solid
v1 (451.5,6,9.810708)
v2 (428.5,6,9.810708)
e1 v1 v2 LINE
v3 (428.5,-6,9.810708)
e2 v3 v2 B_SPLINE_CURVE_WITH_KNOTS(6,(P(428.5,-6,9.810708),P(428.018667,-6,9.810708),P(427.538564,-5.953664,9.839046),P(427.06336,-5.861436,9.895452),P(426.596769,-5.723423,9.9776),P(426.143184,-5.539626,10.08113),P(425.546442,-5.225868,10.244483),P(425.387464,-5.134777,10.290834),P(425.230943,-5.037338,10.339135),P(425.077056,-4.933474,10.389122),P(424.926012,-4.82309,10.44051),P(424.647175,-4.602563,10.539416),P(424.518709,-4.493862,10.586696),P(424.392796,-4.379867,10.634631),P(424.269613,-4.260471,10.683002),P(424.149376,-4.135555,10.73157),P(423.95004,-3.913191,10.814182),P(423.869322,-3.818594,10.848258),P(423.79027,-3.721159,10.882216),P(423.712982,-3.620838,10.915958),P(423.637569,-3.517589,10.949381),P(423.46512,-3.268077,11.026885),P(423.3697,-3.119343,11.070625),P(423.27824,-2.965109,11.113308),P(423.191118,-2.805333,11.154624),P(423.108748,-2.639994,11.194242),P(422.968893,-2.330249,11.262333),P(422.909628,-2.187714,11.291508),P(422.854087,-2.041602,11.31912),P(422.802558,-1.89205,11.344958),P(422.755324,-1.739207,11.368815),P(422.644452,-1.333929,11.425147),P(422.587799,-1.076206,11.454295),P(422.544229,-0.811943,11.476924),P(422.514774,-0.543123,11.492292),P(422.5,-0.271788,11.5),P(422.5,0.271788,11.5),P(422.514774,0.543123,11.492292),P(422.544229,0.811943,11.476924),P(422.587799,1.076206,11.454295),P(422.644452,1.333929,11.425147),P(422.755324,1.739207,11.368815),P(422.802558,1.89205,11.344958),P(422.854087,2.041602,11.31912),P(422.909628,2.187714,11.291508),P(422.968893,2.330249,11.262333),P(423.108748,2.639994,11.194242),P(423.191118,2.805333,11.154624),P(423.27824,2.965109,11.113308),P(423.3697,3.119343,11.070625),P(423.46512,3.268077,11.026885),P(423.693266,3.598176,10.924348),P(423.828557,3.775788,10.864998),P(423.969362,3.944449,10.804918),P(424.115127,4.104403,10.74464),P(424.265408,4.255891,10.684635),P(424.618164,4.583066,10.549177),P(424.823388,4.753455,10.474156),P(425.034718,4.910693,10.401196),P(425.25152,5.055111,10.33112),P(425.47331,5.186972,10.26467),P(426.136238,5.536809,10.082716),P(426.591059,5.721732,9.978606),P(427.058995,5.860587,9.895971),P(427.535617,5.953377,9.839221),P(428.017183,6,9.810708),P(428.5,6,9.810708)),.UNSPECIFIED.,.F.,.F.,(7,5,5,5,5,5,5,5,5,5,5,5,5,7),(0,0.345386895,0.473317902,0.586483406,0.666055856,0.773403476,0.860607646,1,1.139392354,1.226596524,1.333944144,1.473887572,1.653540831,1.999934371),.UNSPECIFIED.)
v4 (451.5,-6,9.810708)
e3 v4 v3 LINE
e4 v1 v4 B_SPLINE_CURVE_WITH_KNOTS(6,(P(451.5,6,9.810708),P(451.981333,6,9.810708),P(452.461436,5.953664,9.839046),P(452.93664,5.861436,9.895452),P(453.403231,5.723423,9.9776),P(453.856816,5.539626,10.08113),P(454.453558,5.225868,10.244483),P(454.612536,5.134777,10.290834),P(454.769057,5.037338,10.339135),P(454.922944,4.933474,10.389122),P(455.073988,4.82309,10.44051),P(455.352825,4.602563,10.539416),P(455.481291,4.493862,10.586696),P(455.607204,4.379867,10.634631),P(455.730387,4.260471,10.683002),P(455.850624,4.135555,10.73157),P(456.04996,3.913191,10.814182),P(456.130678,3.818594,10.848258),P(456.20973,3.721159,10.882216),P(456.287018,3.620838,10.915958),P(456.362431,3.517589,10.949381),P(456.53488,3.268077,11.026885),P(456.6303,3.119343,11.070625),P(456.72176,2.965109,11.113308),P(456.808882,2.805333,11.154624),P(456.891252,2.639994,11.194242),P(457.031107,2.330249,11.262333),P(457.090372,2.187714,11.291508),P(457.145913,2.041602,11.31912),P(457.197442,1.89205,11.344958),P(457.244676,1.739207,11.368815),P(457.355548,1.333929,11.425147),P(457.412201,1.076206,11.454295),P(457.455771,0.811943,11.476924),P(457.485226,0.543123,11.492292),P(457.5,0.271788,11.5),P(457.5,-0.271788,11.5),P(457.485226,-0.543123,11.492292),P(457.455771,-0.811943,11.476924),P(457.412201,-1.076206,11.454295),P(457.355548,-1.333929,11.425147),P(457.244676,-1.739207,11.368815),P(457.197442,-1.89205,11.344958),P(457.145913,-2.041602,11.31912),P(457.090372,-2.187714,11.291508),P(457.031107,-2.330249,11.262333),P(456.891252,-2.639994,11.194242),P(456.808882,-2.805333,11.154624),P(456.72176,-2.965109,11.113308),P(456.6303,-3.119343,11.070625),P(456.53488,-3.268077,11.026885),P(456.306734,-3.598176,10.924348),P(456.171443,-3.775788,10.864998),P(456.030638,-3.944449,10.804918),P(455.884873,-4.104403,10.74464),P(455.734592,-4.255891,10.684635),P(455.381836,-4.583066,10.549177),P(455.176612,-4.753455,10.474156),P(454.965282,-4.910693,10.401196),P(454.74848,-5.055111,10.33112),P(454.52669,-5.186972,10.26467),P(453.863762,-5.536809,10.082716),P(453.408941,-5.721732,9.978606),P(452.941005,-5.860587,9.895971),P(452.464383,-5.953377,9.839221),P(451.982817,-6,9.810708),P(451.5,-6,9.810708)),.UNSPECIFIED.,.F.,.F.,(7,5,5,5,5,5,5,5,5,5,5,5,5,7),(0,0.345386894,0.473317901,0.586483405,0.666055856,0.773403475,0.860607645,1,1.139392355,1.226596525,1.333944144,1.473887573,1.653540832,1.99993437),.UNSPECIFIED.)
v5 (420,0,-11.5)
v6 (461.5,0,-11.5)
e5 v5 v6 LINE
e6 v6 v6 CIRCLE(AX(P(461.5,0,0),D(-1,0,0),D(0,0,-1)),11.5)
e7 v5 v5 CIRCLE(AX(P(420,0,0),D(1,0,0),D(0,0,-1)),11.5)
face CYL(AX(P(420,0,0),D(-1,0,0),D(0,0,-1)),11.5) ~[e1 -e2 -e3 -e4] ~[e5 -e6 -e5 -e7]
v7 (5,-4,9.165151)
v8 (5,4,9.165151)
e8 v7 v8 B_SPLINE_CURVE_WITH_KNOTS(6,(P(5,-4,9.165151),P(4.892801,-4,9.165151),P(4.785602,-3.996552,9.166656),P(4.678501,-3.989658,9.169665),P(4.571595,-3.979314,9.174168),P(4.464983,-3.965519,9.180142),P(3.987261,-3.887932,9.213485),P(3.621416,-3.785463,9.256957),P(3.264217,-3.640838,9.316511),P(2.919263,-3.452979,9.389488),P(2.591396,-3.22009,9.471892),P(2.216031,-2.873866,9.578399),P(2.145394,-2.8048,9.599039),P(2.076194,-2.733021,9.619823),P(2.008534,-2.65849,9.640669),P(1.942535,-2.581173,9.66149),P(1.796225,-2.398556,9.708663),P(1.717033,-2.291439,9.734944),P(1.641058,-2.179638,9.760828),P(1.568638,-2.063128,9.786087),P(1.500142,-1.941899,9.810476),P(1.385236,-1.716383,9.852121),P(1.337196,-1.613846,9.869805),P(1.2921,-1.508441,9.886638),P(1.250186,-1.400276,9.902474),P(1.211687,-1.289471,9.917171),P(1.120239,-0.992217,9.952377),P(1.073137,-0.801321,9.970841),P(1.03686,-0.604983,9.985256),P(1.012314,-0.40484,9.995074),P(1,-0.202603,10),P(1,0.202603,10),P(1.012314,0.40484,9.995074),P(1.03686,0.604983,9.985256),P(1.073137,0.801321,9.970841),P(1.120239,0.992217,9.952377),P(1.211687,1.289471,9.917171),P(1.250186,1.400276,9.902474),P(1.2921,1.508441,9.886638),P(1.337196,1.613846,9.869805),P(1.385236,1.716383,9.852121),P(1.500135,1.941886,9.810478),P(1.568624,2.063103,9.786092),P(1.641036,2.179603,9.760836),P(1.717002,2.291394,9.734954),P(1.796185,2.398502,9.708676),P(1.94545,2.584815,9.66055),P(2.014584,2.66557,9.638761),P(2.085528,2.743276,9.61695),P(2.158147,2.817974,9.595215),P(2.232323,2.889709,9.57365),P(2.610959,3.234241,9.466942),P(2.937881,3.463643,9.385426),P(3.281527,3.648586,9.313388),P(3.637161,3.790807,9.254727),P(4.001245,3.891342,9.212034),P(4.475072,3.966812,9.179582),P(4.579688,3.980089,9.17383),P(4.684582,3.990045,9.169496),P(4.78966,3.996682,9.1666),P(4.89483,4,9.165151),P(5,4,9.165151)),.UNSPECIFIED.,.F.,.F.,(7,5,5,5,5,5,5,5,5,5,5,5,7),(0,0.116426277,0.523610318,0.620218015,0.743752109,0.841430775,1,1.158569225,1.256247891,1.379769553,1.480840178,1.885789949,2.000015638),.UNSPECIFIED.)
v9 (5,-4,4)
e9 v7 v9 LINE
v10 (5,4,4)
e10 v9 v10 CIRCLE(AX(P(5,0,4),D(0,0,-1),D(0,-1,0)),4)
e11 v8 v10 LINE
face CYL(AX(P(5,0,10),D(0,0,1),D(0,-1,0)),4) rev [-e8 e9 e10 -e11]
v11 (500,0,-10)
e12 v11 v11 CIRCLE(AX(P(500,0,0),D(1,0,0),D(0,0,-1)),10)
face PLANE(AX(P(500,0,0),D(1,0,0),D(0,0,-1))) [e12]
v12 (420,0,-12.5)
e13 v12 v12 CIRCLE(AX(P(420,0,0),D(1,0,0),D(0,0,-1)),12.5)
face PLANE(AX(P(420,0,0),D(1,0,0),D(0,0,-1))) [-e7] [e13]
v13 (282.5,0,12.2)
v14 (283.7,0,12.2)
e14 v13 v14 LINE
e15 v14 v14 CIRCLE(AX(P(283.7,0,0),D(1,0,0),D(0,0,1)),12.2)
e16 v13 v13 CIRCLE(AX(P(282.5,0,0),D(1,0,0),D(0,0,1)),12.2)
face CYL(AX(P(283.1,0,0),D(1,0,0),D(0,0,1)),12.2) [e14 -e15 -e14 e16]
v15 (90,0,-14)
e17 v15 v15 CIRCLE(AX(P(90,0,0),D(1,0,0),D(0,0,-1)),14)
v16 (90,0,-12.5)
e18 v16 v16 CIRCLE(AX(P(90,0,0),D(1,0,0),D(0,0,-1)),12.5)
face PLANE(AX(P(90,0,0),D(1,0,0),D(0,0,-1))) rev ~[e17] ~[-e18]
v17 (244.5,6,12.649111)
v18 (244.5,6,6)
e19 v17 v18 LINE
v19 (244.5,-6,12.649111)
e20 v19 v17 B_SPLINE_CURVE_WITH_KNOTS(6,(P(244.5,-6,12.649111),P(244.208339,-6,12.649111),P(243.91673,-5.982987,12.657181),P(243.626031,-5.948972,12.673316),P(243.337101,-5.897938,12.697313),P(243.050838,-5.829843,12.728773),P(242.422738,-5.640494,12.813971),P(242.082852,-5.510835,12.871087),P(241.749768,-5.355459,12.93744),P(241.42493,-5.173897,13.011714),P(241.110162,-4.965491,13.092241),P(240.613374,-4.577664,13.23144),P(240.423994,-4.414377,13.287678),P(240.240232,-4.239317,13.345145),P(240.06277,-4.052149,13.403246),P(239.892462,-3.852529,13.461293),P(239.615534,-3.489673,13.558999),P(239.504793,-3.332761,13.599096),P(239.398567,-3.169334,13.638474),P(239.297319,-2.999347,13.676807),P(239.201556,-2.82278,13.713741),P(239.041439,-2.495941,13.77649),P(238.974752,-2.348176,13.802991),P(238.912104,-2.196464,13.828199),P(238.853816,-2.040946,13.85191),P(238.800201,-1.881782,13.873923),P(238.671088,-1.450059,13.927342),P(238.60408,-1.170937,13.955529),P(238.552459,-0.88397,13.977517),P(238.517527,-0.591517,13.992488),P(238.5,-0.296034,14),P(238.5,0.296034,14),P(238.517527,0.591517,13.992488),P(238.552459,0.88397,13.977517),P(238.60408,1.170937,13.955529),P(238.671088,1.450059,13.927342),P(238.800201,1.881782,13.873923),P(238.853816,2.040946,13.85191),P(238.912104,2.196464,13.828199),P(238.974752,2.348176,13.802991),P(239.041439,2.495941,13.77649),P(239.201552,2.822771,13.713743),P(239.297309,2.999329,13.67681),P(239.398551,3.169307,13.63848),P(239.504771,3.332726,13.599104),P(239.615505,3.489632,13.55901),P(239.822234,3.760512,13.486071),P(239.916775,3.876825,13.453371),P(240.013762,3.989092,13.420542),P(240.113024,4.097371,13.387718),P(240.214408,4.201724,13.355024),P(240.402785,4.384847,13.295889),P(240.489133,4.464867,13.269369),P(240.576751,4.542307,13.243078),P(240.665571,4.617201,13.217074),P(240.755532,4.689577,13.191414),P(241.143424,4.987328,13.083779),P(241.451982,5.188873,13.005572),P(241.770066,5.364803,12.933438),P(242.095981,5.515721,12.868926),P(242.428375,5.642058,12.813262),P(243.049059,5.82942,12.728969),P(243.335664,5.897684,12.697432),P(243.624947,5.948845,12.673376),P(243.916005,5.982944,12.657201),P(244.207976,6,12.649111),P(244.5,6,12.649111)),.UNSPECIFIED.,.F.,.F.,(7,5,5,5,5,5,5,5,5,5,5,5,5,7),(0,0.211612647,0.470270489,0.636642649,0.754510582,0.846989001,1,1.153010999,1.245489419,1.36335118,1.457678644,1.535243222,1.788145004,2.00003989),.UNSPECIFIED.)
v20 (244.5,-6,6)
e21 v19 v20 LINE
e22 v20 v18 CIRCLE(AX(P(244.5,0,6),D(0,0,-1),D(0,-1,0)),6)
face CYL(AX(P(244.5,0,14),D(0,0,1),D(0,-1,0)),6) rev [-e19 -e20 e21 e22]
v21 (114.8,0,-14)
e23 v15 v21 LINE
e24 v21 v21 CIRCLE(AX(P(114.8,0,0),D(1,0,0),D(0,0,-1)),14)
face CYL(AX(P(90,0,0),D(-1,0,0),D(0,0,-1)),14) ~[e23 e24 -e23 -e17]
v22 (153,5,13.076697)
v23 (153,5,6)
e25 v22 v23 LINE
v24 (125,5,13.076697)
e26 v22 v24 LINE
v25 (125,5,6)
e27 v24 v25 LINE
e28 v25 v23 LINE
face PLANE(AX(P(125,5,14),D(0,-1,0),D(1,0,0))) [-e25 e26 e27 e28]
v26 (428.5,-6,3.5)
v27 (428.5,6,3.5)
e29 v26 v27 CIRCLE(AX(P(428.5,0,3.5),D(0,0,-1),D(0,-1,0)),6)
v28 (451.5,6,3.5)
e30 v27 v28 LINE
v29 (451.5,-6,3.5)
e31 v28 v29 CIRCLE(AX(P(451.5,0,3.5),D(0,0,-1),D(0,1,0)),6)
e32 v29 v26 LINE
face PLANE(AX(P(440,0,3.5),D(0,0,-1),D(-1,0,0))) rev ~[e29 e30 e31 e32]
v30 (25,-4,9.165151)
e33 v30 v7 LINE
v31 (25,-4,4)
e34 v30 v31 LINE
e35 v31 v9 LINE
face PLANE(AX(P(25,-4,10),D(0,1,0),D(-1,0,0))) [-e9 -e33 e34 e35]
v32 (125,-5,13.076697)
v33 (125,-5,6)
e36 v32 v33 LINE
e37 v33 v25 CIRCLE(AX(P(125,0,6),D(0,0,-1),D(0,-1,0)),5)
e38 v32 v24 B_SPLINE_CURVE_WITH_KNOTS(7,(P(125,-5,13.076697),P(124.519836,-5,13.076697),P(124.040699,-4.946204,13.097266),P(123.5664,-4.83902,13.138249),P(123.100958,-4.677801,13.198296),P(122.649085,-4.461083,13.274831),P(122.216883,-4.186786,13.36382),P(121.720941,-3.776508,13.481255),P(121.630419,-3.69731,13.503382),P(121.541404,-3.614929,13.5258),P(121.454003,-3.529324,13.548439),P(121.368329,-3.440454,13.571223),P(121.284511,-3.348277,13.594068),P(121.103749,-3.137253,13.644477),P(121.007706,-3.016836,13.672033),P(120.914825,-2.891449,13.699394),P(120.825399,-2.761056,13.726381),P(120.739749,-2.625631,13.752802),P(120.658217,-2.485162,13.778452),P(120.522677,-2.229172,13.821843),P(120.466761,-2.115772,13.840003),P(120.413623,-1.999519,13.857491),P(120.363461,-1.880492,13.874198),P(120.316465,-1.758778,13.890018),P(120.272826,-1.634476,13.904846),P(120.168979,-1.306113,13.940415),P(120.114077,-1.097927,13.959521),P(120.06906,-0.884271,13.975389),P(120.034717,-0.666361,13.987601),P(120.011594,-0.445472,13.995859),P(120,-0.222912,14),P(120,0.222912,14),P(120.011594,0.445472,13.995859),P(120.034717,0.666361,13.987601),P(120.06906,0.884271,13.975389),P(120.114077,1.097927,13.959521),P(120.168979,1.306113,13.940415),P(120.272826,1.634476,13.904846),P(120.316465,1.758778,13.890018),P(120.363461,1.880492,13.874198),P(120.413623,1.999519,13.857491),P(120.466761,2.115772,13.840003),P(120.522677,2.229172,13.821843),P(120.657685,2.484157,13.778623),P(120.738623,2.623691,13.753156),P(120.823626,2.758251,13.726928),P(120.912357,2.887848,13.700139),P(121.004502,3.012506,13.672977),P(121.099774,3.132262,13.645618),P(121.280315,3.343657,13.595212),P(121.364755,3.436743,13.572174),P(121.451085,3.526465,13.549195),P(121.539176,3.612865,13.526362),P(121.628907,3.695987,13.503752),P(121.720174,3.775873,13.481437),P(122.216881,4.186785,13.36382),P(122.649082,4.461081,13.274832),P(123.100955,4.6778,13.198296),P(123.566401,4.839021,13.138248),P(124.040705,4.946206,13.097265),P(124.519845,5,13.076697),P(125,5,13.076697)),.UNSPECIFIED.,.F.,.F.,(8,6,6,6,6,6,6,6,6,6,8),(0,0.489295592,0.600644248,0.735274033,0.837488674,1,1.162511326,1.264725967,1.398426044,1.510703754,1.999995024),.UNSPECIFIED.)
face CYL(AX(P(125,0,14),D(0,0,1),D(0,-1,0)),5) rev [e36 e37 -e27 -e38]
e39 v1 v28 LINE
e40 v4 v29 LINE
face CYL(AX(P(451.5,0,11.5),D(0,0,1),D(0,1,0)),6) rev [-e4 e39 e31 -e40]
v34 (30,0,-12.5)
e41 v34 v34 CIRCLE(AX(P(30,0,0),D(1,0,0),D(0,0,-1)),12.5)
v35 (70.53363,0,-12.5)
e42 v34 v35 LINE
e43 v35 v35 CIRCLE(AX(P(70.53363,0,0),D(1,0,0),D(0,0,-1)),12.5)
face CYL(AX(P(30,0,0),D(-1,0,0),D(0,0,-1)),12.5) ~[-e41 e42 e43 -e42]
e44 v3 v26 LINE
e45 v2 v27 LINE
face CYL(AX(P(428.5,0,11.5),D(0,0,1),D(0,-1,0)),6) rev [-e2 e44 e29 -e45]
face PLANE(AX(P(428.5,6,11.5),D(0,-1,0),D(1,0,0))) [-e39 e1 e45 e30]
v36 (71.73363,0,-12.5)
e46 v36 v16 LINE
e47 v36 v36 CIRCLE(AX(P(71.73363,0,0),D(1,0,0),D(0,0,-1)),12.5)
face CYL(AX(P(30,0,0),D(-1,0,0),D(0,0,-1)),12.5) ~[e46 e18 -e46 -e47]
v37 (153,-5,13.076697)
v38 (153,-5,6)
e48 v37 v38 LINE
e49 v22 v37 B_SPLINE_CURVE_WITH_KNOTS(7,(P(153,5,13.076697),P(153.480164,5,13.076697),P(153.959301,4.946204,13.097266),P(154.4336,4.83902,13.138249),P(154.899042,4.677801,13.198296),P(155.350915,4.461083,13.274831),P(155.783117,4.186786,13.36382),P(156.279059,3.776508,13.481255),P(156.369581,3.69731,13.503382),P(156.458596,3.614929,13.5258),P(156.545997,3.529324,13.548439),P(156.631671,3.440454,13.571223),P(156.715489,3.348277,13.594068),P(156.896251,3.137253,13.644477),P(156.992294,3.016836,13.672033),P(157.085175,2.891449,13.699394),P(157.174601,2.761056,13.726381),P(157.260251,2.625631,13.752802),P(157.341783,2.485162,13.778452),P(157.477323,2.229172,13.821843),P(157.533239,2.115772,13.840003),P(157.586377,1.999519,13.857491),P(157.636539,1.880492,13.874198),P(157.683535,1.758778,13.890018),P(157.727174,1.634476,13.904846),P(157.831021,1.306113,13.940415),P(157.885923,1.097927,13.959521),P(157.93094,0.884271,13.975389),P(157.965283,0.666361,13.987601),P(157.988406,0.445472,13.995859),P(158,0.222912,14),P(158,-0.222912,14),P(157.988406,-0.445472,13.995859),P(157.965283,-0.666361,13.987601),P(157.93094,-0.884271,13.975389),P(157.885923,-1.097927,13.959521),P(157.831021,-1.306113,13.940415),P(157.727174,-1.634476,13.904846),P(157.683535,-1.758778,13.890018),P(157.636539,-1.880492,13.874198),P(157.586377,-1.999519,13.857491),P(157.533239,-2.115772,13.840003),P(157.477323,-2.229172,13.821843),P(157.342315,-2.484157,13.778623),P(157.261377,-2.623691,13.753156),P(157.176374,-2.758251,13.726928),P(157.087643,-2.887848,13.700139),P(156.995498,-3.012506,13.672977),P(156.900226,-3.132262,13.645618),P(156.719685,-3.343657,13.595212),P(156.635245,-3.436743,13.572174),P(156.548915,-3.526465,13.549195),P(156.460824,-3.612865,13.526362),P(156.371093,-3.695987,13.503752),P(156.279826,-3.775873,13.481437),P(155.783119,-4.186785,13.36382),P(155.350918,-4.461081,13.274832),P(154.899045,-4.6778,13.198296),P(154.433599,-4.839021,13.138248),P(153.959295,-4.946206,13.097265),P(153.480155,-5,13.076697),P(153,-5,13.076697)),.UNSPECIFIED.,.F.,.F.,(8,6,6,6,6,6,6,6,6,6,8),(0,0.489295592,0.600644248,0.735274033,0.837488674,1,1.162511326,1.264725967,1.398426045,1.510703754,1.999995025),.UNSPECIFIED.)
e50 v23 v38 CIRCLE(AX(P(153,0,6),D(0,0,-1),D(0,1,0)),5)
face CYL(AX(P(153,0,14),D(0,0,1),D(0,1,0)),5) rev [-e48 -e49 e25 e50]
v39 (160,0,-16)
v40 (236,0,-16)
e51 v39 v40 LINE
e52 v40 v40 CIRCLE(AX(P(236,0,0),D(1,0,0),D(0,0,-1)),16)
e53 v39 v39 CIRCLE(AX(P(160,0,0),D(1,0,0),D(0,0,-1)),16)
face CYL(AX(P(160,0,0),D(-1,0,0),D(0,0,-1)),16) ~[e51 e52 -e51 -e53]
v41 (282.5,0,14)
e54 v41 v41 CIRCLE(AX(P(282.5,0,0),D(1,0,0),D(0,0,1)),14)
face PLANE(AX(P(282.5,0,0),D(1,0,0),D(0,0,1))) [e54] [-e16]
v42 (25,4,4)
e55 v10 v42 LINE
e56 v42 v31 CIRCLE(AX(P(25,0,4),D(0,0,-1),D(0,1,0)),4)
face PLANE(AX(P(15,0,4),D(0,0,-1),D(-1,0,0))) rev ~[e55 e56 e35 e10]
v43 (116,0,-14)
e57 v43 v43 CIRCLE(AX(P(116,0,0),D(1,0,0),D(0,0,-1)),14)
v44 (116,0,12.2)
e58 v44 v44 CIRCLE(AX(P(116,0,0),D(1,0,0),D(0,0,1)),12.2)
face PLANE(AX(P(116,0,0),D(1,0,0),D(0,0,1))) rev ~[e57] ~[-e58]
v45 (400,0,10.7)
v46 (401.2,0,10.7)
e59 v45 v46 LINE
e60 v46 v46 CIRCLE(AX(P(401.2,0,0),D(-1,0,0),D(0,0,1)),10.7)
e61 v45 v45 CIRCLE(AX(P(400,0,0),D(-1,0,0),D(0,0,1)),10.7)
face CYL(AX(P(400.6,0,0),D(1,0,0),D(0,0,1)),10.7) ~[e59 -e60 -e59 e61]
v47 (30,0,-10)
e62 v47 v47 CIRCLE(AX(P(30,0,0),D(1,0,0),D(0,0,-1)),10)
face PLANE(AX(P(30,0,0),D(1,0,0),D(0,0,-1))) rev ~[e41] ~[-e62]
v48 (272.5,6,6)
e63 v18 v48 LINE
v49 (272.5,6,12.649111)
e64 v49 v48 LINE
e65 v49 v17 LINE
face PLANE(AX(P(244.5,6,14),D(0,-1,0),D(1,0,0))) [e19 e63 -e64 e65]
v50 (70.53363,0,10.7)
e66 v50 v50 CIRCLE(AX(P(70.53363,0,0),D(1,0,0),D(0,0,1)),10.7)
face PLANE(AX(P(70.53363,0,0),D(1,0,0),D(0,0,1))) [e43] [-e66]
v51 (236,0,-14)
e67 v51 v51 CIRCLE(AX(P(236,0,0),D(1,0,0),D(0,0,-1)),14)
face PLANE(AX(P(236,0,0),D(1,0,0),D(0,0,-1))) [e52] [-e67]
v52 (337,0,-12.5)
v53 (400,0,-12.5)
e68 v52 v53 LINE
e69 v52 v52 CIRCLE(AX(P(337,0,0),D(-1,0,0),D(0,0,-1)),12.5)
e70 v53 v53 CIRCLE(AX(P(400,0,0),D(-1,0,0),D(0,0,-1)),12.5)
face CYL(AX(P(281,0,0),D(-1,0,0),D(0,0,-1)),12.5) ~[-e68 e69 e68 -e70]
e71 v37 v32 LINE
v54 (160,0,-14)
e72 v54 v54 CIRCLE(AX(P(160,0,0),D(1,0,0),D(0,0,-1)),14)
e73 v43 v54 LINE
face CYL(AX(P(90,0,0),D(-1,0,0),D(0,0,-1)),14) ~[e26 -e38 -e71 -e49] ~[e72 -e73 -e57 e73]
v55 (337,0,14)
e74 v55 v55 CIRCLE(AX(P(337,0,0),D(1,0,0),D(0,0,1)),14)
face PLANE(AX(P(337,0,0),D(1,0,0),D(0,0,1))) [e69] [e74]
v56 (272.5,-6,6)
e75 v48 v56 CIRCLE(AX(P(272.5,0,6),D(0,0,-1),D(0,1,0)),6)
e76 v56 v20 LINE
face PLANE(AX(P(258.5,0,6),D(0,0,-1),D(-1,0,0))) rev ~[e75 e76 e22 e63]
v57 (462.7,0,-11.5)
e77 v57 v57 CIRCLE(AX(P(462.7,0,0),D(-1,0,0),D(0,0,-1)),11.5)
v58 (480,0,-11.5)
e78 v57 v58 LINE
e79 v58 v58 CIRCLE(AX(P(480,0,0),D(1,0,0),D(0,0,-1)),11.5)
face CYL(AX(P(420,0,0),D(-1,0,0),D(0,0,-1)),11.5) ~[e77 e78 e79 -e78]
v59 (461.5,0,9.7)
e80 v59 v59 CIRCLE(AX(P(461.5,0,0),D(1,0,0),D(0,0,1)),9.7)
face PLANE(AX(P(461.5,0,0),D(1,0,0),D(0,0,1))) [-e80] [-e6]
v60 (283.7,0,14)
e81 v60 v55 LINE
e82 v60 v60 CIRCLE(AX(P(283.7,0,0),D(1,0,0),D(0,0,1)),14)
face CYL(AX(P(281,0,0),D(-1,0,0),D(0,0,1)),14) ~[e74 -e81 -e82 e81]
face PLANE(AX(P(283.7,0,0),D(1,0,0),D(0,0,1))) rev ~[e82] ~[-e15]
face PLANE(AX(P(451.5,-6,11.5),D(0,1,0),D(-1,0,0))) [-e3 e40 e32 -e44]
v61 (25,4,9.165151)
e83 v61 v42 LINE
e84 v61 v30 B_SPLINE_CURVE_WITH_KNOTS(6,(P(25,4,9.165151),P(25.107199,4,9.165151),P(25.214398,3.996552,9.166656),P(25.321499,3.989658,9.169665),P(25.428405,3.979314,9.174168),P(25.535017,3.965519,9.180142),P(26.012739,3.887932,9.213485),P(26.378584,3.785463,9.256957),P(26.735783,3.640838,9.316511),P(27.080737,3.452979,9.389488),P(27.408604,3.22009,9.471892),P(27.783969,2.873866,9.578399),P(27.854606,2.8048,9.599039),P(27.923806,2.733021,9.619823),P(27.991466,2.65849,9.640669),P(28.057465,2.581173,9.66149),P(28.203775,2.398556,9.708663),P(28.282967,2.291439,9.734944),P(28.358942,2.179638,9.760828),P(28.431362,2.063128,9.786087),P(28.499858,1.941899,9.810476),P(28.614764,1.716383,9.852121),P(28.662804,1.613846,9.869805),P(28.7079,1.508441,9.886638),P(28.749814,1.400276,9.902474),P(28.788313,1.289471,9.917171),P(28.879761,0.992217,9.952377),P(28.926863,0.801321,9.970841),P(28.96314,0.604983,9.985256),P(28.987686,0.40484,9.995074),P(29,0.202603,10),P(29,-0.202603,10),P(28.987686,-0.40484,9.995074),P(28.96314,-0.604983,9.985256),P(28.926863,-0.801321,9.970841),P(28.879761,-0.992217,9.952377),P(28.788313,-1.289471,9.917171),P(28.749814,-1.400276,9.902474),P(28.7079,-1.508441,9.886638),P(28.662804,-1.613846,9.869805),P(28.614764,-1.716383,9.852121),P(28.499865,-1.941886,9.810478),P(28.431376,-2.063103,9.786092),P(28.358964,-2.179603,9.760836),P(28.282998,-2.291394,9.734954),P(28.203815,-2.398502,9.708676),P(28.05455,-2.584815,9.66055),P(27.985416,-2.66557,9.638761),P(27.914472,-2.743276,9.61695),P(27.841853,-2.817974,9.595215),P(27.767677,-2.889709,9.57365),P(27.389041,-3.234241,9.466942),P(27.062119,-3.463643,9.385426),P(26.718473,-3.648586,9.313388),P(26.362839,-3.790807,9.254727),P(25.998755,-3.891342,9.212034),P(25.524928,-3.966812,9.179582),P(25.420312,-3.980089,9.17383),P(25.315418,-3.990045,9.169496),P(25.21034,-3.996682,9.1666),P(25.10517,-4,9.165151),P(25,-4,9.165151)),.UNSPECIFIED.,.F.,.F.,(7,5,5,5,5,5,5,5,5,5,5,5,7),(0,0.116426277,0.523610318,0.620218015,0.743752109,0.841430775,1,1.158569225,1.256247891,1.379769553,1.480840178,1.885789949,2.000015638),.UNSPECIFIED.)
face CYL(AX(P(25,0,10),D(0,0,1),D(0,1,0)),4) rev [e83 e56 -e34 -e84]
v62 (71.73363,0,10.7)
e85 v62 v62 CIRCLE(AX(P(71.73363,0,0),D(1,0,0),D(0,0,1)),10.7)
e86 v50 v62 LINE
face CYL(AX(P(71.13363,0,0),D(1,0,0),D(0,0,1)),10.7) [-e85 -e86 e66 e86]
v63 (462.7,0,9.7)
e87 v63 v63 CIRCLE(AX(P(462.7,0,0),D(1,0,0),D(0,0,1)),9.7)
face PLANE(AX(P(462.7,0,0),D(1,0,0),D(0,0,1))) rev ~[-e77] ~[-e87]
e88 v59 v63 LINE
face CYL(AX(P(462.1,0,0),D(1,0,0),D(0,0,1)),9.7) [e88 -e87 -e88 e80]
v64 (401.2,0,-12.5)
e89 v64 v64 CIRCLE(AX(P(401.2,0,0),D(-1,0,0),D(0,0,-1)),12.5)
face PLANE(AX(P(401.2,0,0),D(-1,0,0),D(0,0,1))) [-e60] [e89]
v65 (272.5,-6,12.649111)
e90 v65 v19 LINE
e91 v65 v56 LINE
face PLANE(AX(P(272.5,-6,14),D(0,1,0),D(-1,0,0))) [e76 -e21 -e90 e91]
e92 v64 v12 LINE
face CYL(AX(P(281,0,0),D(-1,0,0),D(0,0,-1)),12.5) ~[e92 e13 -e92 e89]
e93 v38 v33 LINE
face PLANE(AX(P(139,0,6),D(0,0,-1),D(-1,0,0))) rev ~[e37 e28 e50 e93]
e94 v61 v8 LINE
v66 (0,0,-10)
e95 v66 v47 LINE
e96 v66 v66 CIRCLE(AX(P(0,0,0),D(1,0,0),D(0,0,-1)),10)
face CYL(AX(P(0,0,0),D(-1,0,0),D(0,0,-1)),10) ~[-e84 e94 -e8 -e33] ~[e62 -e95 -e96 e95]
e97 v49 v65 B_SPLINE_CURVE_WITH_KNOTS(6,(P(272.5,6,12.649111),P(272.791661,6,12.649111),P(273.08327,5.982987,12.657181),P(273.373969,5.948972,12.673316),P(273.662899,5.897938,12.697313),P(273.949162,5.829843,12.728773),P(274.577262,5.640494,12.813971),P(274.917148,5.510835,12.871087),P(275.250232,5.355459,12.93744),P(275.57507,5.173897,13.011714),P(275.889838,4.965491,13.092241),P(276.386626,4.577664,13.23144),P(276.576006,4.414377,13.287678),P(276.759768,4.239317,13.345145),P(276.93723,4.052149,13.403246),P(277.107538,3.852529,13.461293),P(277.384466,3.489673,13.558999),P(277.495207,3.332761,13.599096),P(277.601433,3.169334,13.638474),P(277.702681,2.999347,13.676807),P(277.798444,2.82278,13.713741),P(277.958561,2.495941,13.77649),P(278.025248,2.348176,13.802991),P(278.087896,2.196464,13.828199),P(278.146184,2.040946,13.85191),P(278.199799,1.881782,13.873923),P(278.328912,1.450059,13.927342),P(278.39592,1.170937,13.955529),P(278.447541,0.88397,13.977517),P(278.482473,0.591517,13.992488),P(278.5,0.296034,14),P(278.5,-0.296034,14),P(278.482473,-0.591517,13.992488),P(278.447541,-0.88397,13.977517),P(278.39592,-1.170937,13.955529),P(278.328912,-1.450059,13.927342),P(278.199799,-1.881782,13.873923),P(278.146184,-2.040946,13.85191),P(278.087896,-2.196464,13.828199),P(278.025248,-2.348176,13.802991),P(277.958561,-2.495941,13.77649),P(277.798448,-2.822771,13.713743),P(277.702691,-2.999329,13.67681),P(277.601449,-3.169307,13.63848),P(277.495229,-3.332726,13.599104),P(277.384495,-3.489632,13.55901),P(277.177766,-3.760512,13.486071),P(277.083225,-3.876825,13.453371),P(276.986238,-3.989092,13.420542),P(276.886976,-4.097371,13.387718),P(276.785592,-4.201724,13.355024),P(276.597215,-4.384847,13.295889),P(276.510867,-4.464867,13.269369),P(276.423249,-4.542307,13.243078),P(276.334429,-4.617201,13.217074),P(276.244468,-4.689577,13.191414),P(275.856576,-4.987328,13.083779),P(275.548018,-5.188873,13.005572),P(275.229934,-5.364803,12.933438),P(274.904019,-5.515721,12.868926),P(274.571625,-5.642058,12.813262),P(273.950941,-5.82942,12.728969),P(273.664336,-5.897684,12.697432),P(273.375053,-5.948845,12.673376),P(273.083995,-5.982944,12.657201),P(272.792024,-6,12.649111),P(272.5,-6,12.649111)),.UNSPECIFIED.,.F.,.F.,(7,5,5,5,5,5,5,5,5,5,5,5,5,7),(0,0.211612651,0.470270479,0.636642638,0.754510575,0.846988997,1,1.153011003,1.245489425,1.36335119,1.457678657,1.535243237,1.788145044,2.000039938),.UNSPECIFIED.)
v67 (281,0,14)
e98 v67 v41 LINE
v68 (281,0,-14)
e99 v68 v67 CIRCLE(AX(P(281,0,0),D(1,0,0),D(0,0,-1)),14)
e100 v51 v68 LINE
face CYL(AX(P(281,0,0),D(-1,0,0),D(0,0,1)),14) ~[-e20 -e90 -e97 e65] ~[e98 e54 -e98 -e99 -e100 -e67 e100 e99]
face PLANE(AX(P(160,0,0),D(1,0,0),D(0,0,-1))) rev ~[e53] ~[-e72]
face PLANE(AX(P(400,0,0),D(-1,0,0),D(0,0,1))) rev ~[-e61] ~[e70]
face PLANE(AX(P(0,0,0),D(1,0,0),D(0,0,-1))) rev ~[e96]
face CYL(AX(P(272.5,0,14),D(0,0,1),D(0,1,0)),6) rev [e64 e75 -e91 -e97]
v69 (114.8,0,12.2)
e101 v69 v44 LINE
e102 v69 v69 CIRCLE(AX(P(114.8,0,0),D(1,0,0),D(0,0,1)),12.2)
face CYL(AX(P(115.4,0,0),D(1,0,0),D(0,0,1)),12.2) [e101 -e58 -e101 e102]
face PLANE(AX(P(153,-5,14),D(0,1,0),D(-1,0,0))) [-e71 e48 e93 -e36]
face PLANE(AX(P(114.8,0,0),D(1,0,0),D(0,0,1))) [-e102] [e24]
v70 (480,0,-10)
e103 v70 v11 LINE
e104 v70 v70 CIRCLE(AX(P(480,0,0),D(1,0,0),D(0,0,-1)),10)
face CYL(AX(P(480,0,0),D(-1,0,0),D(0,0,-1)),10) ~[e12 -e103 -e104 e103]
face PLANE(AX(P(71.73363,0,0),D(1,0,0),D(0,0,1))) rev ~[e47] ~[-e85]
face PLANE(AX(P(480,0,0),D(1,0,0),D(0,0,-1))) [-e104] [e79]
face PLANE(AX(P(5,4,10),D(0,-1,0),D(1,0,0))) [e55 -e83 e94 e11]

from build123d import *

# Parameters (mm, degrees)
SKETCH1_R            = 10
BOSS_EXTRUDE1_DEPTH  = 30
SKETCH2_R            = 12.5
BOSS_EXTRUDE5_DEPTH  = 60
SKETCH5_R            = 14
BOSS_EXTRUDE8_DEPTH  = 70
SKETCH7_R            = 16
BOSS_EXTRUDE9_DEPTH  = 76
SKETCH8_R            = 14
BOSS_EXTRUDE13_DEPTH = 24
SKETCH12_R           = 12.5
BOSS_EXTRUDE15_DEPTH = 150
SKETCH14_R           = 11.5
BOSS_EXTRUDE16_DEPTH = 70
SKETCH15_R           = 10
BOSS_EXTRUDE17_DEPTH = 20
CUT_EXTRUDE1_DEPTH   = 6
CUT_EXTRUDE2_DEPTH   = 8
SKETCH18_R           = 14
CUT_EXTRUDE3_DEPTH   = 264
SKETCH19_R           = 14
BOSS_EXTRUDE18_DEPTH = 45
SKETCH20_R           = 12.5
BOSS_EXTRUDE19_DEPTH = 139
SKETCH21_R           = 11.5
BOSS_EXTRUDE20_DEPTH = 60
SKETCH22_R           = 10
BOSS_EXTRUDE21_DEPTH = 20
CUT_EXTRUDE4_DEPTH   = 8
CUT_EXTRUDE5_DEPTH   = 8
SKETCH26_W           = 1.2
SKETCH26_H           = 1.8
SKETCH30_W           = 1.2
SKETCH30_H           = 1.8
SKETCH31_W           = 1.2
SKETCH31_H           = 1.8
SKETCH34_W           = 1.2
SKETCH34_H           = 1.8
SKETCH35_R           = 14
BOSS_EXTRUDE22_DEPTH = 56
SKETCH36_W           = 1.2
SKETCH36_H           = 1.8


with BuildPart() as part:
    # Sketch1 → Boss-Extrude1 (new body)
    with BuildSketch(Plane(origin=(0, 0, 0), x_dir=(0, 0, -1), z_dir=(1, 0, 0))):
        Circle(SKETCH1_R)
    extrude(amount=BOSS_EXTRUDE1_DEPTH)

    # Sketch2 → Boss-Extrude5 (add)
    with BuildSketch(Plane(origin=(30, 0, 0), x_dir=(0, 0, -1), z_dir=(1, 0, 0))):
        Circle(SKETCH2_R)
    extrude(amount=BOSS_EXTRUDE5_DEPTH)

    # Sketch5 → Boss-Extrude8 (add)
    with BuildSketch(Plane(origin=(90, 0, 0), x_dir=(0, 0, -1), z_dir=(1, 0, 0))):
        Circle(SKETCH5_R)
    extrude(amount=BOSS_EXTRUDE8_DEPTH)

    # Sketch7 → Boss-Extrude9 (add)
    with BuildSketch(Plane(origin=(160, 0, 0), x_dir=(0, 0, -1), z_dir=(1, 0, 0))):
        Circle(SKETCH7_R)
    extrude(amount=BOSS_EXTRUDE9_DEPTH)

    # Sketch8 → Boss-Extrude13 (add)
    with BuildSketch(Plane(origin=(236, 0, 0), x_dir=(0, 0, -1), z_dir=(1, 0, 0))):
        Circle(SKETCH8_R)
    extrude(amount=BOSS_EXTRUDE13_DEPTH)

    # Sketch12 → Boss-Extrude15 (add)
    with BuildSketch(Plane(origin=(260, 0, 0), x_dir=(0, 0, -1), z_dir=(1, 0, 0))):
        Circle(SKETCH12_R)
    extrude(amount=BOSS_EXTRUDE15_DEPTH)

    # Sketch14 → Boss-Extrude16 (add)
    with BuildSketch(Plane(origin=(410, 0, 0), x_dir=(0, 0, -1), z_dir=(1, 0, 0))):
        Circle(SKETCH14_R)
    extrude(amount=BOSS_EXTRUDE16_DEPTH)

    # Sketch15 → Boss-Extrude17 (add)
    with BuildSketch(Plane(origin=(480, 0, 0), x_dir=(0, 0, -1), z_dir=(1, 0, 0))):
        Circle(SKETCH15_R)
    extrude(amount=BOSS_EXTRUDE17_DEPTH)

    # Sketch16 → Cut-Extrude1 (cut)
    with BuildSketch(Plane.XY.offset(10)):
        with BuildLine():
            Line((5, 4), (25, 4))
            ThreePointArc((25, 4), (29, 0), (25, -4))
            Line((25, -4), (5, -4))
            ThreePointArc((5, -4), (1, 0), (5, 4))
        make_face()
    extrude(amount=-CUT_EXTRUDE1_DEPTH, mode=Mode.SUBTRACT)

    # Sketch17 → Cut-Extrude2 (cut)
    with BuildSketch(Plane.XY.offset(14)):
        with BuildLine():
            Line((125, 5), (153, 5))
            ThreePointArc((153, 5), (158, 0), (153, -5))
            Line((153, -5), (125, -5))
            ThreePointArc((125, -5), (120, 0), (125, 5))
        make_face()
    extrude(amount=-CUT_EXTRUDE2_DEPTH, mode=Mode.SUBTRACT)

    # Sketch18 → Cut-Extrude3 (cut)
    with BuildSketch(Plane(origin=(236, 0, 0), x_dir=(0, 0, -1), z_dir=(1, 0, 0))):
        Circle(SKETCH18_R)
    extrude(amount=CUT_EXTRUDE3_DEPTH, mode=Mode.SUBTRACT)

    # Sketch19 → Boss-Extrude18 (add)
    with BuildSketch(Plane(origin=(236, 0, 0), x_dir=(0, 0, -1), z_dir=(1, 0, 0))):
        Circle(SKETCH19_R)
    extrude(amount=BOSS_EXTRUDE18_DEPTH)

    # Sketch20 → Boss-Extrude19 (add)
    with BuildSketch(Plane(origin=(281, 0, 0), x_dir=(0, 0, -1), z_dir=(1, 0, 0))):
        Circle(SKETCH20_R)
    extrude(amount=BOSS_EXTRUDE19_DEPTH)

    # Sketch21 → Boss-Extrude20 (add)
    with BuildSketch(Plane(origin=(420, 0, 0), x_dir=(0, 0, -1), z_dir=(1, 0, 0))):
        Circle(SKETCH21_R)
    extrude(amount=BOSS_EXTRUDE20_DEPTH)

    # Sketch22 → Boss-Extrude21 (add)
    with BuildSketch(Plane(origin=(480, 0, 0), x_dir=(0, 0, -1), z_dir=(1, 0, 0))):
        Circle(SKETCH22_R)
    extrude(amount=BOSS_EXTRUDE21_DEPTH)

    # Sketch24 → Cut-Extrude4 (cut)
    with BuildSketch(Plane.XY.offset(14)):
        with BuildLine():
            Line((244.5, 6), (272.5, 6))
            ThreePointArc((272.5, 6), (278.5, 0), (272.5, -6))
            Line((272.5, -6), (244.5, -6))
            ThreePointArc((244.5, -6), (238.5, 0), (244.5, 6))
        make_face()
    extrude(amount=-CUT_EXTRUDE4_DEPTH, mode=Mode.SUBTRACT)

    # Sketch25 → Cut-Extrude5 (cut)
    with BuildSketch(Plane.XY.offset(11.5)):
        with BuildLine():
            Line((428.5, 6), (451.5, 6))
            ThreePointArc((451.5, 6), (457.5, 0), (451.5, -6))
            Line((451.5, -6), (428.5, -6))
            ThreePointArc((428.5, -6), (422.5, 0), (428.5, 6))
        make_face()
    extrude(amount=-CUT_EXTRUDE5_DEPTH, mode=Mode.SUBTRACT)

    # Sketch26 → Cut-Revolve2 (revolve, cut)
    with BuildSketch(Plane(origin=(0, 0, 0), x_dir=(1, 0, 0), z_dir=(0, 1, 0))):
        with Locations((71.13362974, -11.6)):
            Rectangle(SKETCH26_W, SKETCH26_H)
    revolve(axis=Axis((30.471957332, 0, 0), (1, 0, 0)), mode=Mode.SUBTRACT)

    # Sketch30 → Cut-Revolve5 (revolve, cut)
    with BuildSketch(Plane(origin=(0, 0, 0), x_dir=(1, 0, 0), z_dir=(0, 1, 0))):
        with Locations((462.1, -10.6)):
            Rectangle(SKETCH30_W, SKETCH30_H)
    revolve(axis=Axis((419.735953091, 0, 0), (1, 0, 0)), mode=Mode.SUBTRACT)

    # Sketch31 → Cut-Revolve6 (revolve, cut)
    with BuildSketch(Plane(origin=(0, 0, 0), x_dir=(1, 0, 0), z_dir=(0, 1, 0))):
        with Locations((400.6, -11.6)):
            Rectangle(SKETCH31_W, SKETCH31_H)
    revolve(axis=Axis((419.735953091, 0, 0), (-1, 0, 0)), mode=Mode.SUBTRACT)

    # Sketch34 → Cut-Revolve8 (revolve, cut)
    with BuildSketch(Plane(origin=(0, 0, 0), x_dir=(1, 0, 0), z_dir=(0, 1, 0))):
        with Locations((115.4, -13.1)):
            Rectangle(SKETCH34_W, SKETCH34_H)
    revolve(axis=Axis((91.001068782, 0, 0), (1, 0, 0)), mode=Mode.SUBTRACT)

    # Sketch35 → Boss-Extrude22 (add)
    with BuildSketch(Plane(origin=(281, 0, 0), x_dir=(0, 0, -1), z_dir=(1, 0, 0))):
        with Locations(Location((0, 0, 0), (0, 0, 180))):
            Circle(SKETCH35_R)
    extrude(amount=BOSS_EXTRUDE22_DEPTH)

    # Sketch36 → Cut-Revolve9 (revolve, cut)
    with BuildSketch(Plane(origin=(0, 0, 0), x_dir=(1, 0, 0), z_dir=(0, 1, 0))):
        with Locations((283.1, -13.1)):
            Rectangle(SKETCH36_W, SKETCH36_H)
    revolve(axis=Axis((235.166197804, 0, 0), (1, 0, 0)), mode=Mode.SUBTRACT)


solid = part.part
